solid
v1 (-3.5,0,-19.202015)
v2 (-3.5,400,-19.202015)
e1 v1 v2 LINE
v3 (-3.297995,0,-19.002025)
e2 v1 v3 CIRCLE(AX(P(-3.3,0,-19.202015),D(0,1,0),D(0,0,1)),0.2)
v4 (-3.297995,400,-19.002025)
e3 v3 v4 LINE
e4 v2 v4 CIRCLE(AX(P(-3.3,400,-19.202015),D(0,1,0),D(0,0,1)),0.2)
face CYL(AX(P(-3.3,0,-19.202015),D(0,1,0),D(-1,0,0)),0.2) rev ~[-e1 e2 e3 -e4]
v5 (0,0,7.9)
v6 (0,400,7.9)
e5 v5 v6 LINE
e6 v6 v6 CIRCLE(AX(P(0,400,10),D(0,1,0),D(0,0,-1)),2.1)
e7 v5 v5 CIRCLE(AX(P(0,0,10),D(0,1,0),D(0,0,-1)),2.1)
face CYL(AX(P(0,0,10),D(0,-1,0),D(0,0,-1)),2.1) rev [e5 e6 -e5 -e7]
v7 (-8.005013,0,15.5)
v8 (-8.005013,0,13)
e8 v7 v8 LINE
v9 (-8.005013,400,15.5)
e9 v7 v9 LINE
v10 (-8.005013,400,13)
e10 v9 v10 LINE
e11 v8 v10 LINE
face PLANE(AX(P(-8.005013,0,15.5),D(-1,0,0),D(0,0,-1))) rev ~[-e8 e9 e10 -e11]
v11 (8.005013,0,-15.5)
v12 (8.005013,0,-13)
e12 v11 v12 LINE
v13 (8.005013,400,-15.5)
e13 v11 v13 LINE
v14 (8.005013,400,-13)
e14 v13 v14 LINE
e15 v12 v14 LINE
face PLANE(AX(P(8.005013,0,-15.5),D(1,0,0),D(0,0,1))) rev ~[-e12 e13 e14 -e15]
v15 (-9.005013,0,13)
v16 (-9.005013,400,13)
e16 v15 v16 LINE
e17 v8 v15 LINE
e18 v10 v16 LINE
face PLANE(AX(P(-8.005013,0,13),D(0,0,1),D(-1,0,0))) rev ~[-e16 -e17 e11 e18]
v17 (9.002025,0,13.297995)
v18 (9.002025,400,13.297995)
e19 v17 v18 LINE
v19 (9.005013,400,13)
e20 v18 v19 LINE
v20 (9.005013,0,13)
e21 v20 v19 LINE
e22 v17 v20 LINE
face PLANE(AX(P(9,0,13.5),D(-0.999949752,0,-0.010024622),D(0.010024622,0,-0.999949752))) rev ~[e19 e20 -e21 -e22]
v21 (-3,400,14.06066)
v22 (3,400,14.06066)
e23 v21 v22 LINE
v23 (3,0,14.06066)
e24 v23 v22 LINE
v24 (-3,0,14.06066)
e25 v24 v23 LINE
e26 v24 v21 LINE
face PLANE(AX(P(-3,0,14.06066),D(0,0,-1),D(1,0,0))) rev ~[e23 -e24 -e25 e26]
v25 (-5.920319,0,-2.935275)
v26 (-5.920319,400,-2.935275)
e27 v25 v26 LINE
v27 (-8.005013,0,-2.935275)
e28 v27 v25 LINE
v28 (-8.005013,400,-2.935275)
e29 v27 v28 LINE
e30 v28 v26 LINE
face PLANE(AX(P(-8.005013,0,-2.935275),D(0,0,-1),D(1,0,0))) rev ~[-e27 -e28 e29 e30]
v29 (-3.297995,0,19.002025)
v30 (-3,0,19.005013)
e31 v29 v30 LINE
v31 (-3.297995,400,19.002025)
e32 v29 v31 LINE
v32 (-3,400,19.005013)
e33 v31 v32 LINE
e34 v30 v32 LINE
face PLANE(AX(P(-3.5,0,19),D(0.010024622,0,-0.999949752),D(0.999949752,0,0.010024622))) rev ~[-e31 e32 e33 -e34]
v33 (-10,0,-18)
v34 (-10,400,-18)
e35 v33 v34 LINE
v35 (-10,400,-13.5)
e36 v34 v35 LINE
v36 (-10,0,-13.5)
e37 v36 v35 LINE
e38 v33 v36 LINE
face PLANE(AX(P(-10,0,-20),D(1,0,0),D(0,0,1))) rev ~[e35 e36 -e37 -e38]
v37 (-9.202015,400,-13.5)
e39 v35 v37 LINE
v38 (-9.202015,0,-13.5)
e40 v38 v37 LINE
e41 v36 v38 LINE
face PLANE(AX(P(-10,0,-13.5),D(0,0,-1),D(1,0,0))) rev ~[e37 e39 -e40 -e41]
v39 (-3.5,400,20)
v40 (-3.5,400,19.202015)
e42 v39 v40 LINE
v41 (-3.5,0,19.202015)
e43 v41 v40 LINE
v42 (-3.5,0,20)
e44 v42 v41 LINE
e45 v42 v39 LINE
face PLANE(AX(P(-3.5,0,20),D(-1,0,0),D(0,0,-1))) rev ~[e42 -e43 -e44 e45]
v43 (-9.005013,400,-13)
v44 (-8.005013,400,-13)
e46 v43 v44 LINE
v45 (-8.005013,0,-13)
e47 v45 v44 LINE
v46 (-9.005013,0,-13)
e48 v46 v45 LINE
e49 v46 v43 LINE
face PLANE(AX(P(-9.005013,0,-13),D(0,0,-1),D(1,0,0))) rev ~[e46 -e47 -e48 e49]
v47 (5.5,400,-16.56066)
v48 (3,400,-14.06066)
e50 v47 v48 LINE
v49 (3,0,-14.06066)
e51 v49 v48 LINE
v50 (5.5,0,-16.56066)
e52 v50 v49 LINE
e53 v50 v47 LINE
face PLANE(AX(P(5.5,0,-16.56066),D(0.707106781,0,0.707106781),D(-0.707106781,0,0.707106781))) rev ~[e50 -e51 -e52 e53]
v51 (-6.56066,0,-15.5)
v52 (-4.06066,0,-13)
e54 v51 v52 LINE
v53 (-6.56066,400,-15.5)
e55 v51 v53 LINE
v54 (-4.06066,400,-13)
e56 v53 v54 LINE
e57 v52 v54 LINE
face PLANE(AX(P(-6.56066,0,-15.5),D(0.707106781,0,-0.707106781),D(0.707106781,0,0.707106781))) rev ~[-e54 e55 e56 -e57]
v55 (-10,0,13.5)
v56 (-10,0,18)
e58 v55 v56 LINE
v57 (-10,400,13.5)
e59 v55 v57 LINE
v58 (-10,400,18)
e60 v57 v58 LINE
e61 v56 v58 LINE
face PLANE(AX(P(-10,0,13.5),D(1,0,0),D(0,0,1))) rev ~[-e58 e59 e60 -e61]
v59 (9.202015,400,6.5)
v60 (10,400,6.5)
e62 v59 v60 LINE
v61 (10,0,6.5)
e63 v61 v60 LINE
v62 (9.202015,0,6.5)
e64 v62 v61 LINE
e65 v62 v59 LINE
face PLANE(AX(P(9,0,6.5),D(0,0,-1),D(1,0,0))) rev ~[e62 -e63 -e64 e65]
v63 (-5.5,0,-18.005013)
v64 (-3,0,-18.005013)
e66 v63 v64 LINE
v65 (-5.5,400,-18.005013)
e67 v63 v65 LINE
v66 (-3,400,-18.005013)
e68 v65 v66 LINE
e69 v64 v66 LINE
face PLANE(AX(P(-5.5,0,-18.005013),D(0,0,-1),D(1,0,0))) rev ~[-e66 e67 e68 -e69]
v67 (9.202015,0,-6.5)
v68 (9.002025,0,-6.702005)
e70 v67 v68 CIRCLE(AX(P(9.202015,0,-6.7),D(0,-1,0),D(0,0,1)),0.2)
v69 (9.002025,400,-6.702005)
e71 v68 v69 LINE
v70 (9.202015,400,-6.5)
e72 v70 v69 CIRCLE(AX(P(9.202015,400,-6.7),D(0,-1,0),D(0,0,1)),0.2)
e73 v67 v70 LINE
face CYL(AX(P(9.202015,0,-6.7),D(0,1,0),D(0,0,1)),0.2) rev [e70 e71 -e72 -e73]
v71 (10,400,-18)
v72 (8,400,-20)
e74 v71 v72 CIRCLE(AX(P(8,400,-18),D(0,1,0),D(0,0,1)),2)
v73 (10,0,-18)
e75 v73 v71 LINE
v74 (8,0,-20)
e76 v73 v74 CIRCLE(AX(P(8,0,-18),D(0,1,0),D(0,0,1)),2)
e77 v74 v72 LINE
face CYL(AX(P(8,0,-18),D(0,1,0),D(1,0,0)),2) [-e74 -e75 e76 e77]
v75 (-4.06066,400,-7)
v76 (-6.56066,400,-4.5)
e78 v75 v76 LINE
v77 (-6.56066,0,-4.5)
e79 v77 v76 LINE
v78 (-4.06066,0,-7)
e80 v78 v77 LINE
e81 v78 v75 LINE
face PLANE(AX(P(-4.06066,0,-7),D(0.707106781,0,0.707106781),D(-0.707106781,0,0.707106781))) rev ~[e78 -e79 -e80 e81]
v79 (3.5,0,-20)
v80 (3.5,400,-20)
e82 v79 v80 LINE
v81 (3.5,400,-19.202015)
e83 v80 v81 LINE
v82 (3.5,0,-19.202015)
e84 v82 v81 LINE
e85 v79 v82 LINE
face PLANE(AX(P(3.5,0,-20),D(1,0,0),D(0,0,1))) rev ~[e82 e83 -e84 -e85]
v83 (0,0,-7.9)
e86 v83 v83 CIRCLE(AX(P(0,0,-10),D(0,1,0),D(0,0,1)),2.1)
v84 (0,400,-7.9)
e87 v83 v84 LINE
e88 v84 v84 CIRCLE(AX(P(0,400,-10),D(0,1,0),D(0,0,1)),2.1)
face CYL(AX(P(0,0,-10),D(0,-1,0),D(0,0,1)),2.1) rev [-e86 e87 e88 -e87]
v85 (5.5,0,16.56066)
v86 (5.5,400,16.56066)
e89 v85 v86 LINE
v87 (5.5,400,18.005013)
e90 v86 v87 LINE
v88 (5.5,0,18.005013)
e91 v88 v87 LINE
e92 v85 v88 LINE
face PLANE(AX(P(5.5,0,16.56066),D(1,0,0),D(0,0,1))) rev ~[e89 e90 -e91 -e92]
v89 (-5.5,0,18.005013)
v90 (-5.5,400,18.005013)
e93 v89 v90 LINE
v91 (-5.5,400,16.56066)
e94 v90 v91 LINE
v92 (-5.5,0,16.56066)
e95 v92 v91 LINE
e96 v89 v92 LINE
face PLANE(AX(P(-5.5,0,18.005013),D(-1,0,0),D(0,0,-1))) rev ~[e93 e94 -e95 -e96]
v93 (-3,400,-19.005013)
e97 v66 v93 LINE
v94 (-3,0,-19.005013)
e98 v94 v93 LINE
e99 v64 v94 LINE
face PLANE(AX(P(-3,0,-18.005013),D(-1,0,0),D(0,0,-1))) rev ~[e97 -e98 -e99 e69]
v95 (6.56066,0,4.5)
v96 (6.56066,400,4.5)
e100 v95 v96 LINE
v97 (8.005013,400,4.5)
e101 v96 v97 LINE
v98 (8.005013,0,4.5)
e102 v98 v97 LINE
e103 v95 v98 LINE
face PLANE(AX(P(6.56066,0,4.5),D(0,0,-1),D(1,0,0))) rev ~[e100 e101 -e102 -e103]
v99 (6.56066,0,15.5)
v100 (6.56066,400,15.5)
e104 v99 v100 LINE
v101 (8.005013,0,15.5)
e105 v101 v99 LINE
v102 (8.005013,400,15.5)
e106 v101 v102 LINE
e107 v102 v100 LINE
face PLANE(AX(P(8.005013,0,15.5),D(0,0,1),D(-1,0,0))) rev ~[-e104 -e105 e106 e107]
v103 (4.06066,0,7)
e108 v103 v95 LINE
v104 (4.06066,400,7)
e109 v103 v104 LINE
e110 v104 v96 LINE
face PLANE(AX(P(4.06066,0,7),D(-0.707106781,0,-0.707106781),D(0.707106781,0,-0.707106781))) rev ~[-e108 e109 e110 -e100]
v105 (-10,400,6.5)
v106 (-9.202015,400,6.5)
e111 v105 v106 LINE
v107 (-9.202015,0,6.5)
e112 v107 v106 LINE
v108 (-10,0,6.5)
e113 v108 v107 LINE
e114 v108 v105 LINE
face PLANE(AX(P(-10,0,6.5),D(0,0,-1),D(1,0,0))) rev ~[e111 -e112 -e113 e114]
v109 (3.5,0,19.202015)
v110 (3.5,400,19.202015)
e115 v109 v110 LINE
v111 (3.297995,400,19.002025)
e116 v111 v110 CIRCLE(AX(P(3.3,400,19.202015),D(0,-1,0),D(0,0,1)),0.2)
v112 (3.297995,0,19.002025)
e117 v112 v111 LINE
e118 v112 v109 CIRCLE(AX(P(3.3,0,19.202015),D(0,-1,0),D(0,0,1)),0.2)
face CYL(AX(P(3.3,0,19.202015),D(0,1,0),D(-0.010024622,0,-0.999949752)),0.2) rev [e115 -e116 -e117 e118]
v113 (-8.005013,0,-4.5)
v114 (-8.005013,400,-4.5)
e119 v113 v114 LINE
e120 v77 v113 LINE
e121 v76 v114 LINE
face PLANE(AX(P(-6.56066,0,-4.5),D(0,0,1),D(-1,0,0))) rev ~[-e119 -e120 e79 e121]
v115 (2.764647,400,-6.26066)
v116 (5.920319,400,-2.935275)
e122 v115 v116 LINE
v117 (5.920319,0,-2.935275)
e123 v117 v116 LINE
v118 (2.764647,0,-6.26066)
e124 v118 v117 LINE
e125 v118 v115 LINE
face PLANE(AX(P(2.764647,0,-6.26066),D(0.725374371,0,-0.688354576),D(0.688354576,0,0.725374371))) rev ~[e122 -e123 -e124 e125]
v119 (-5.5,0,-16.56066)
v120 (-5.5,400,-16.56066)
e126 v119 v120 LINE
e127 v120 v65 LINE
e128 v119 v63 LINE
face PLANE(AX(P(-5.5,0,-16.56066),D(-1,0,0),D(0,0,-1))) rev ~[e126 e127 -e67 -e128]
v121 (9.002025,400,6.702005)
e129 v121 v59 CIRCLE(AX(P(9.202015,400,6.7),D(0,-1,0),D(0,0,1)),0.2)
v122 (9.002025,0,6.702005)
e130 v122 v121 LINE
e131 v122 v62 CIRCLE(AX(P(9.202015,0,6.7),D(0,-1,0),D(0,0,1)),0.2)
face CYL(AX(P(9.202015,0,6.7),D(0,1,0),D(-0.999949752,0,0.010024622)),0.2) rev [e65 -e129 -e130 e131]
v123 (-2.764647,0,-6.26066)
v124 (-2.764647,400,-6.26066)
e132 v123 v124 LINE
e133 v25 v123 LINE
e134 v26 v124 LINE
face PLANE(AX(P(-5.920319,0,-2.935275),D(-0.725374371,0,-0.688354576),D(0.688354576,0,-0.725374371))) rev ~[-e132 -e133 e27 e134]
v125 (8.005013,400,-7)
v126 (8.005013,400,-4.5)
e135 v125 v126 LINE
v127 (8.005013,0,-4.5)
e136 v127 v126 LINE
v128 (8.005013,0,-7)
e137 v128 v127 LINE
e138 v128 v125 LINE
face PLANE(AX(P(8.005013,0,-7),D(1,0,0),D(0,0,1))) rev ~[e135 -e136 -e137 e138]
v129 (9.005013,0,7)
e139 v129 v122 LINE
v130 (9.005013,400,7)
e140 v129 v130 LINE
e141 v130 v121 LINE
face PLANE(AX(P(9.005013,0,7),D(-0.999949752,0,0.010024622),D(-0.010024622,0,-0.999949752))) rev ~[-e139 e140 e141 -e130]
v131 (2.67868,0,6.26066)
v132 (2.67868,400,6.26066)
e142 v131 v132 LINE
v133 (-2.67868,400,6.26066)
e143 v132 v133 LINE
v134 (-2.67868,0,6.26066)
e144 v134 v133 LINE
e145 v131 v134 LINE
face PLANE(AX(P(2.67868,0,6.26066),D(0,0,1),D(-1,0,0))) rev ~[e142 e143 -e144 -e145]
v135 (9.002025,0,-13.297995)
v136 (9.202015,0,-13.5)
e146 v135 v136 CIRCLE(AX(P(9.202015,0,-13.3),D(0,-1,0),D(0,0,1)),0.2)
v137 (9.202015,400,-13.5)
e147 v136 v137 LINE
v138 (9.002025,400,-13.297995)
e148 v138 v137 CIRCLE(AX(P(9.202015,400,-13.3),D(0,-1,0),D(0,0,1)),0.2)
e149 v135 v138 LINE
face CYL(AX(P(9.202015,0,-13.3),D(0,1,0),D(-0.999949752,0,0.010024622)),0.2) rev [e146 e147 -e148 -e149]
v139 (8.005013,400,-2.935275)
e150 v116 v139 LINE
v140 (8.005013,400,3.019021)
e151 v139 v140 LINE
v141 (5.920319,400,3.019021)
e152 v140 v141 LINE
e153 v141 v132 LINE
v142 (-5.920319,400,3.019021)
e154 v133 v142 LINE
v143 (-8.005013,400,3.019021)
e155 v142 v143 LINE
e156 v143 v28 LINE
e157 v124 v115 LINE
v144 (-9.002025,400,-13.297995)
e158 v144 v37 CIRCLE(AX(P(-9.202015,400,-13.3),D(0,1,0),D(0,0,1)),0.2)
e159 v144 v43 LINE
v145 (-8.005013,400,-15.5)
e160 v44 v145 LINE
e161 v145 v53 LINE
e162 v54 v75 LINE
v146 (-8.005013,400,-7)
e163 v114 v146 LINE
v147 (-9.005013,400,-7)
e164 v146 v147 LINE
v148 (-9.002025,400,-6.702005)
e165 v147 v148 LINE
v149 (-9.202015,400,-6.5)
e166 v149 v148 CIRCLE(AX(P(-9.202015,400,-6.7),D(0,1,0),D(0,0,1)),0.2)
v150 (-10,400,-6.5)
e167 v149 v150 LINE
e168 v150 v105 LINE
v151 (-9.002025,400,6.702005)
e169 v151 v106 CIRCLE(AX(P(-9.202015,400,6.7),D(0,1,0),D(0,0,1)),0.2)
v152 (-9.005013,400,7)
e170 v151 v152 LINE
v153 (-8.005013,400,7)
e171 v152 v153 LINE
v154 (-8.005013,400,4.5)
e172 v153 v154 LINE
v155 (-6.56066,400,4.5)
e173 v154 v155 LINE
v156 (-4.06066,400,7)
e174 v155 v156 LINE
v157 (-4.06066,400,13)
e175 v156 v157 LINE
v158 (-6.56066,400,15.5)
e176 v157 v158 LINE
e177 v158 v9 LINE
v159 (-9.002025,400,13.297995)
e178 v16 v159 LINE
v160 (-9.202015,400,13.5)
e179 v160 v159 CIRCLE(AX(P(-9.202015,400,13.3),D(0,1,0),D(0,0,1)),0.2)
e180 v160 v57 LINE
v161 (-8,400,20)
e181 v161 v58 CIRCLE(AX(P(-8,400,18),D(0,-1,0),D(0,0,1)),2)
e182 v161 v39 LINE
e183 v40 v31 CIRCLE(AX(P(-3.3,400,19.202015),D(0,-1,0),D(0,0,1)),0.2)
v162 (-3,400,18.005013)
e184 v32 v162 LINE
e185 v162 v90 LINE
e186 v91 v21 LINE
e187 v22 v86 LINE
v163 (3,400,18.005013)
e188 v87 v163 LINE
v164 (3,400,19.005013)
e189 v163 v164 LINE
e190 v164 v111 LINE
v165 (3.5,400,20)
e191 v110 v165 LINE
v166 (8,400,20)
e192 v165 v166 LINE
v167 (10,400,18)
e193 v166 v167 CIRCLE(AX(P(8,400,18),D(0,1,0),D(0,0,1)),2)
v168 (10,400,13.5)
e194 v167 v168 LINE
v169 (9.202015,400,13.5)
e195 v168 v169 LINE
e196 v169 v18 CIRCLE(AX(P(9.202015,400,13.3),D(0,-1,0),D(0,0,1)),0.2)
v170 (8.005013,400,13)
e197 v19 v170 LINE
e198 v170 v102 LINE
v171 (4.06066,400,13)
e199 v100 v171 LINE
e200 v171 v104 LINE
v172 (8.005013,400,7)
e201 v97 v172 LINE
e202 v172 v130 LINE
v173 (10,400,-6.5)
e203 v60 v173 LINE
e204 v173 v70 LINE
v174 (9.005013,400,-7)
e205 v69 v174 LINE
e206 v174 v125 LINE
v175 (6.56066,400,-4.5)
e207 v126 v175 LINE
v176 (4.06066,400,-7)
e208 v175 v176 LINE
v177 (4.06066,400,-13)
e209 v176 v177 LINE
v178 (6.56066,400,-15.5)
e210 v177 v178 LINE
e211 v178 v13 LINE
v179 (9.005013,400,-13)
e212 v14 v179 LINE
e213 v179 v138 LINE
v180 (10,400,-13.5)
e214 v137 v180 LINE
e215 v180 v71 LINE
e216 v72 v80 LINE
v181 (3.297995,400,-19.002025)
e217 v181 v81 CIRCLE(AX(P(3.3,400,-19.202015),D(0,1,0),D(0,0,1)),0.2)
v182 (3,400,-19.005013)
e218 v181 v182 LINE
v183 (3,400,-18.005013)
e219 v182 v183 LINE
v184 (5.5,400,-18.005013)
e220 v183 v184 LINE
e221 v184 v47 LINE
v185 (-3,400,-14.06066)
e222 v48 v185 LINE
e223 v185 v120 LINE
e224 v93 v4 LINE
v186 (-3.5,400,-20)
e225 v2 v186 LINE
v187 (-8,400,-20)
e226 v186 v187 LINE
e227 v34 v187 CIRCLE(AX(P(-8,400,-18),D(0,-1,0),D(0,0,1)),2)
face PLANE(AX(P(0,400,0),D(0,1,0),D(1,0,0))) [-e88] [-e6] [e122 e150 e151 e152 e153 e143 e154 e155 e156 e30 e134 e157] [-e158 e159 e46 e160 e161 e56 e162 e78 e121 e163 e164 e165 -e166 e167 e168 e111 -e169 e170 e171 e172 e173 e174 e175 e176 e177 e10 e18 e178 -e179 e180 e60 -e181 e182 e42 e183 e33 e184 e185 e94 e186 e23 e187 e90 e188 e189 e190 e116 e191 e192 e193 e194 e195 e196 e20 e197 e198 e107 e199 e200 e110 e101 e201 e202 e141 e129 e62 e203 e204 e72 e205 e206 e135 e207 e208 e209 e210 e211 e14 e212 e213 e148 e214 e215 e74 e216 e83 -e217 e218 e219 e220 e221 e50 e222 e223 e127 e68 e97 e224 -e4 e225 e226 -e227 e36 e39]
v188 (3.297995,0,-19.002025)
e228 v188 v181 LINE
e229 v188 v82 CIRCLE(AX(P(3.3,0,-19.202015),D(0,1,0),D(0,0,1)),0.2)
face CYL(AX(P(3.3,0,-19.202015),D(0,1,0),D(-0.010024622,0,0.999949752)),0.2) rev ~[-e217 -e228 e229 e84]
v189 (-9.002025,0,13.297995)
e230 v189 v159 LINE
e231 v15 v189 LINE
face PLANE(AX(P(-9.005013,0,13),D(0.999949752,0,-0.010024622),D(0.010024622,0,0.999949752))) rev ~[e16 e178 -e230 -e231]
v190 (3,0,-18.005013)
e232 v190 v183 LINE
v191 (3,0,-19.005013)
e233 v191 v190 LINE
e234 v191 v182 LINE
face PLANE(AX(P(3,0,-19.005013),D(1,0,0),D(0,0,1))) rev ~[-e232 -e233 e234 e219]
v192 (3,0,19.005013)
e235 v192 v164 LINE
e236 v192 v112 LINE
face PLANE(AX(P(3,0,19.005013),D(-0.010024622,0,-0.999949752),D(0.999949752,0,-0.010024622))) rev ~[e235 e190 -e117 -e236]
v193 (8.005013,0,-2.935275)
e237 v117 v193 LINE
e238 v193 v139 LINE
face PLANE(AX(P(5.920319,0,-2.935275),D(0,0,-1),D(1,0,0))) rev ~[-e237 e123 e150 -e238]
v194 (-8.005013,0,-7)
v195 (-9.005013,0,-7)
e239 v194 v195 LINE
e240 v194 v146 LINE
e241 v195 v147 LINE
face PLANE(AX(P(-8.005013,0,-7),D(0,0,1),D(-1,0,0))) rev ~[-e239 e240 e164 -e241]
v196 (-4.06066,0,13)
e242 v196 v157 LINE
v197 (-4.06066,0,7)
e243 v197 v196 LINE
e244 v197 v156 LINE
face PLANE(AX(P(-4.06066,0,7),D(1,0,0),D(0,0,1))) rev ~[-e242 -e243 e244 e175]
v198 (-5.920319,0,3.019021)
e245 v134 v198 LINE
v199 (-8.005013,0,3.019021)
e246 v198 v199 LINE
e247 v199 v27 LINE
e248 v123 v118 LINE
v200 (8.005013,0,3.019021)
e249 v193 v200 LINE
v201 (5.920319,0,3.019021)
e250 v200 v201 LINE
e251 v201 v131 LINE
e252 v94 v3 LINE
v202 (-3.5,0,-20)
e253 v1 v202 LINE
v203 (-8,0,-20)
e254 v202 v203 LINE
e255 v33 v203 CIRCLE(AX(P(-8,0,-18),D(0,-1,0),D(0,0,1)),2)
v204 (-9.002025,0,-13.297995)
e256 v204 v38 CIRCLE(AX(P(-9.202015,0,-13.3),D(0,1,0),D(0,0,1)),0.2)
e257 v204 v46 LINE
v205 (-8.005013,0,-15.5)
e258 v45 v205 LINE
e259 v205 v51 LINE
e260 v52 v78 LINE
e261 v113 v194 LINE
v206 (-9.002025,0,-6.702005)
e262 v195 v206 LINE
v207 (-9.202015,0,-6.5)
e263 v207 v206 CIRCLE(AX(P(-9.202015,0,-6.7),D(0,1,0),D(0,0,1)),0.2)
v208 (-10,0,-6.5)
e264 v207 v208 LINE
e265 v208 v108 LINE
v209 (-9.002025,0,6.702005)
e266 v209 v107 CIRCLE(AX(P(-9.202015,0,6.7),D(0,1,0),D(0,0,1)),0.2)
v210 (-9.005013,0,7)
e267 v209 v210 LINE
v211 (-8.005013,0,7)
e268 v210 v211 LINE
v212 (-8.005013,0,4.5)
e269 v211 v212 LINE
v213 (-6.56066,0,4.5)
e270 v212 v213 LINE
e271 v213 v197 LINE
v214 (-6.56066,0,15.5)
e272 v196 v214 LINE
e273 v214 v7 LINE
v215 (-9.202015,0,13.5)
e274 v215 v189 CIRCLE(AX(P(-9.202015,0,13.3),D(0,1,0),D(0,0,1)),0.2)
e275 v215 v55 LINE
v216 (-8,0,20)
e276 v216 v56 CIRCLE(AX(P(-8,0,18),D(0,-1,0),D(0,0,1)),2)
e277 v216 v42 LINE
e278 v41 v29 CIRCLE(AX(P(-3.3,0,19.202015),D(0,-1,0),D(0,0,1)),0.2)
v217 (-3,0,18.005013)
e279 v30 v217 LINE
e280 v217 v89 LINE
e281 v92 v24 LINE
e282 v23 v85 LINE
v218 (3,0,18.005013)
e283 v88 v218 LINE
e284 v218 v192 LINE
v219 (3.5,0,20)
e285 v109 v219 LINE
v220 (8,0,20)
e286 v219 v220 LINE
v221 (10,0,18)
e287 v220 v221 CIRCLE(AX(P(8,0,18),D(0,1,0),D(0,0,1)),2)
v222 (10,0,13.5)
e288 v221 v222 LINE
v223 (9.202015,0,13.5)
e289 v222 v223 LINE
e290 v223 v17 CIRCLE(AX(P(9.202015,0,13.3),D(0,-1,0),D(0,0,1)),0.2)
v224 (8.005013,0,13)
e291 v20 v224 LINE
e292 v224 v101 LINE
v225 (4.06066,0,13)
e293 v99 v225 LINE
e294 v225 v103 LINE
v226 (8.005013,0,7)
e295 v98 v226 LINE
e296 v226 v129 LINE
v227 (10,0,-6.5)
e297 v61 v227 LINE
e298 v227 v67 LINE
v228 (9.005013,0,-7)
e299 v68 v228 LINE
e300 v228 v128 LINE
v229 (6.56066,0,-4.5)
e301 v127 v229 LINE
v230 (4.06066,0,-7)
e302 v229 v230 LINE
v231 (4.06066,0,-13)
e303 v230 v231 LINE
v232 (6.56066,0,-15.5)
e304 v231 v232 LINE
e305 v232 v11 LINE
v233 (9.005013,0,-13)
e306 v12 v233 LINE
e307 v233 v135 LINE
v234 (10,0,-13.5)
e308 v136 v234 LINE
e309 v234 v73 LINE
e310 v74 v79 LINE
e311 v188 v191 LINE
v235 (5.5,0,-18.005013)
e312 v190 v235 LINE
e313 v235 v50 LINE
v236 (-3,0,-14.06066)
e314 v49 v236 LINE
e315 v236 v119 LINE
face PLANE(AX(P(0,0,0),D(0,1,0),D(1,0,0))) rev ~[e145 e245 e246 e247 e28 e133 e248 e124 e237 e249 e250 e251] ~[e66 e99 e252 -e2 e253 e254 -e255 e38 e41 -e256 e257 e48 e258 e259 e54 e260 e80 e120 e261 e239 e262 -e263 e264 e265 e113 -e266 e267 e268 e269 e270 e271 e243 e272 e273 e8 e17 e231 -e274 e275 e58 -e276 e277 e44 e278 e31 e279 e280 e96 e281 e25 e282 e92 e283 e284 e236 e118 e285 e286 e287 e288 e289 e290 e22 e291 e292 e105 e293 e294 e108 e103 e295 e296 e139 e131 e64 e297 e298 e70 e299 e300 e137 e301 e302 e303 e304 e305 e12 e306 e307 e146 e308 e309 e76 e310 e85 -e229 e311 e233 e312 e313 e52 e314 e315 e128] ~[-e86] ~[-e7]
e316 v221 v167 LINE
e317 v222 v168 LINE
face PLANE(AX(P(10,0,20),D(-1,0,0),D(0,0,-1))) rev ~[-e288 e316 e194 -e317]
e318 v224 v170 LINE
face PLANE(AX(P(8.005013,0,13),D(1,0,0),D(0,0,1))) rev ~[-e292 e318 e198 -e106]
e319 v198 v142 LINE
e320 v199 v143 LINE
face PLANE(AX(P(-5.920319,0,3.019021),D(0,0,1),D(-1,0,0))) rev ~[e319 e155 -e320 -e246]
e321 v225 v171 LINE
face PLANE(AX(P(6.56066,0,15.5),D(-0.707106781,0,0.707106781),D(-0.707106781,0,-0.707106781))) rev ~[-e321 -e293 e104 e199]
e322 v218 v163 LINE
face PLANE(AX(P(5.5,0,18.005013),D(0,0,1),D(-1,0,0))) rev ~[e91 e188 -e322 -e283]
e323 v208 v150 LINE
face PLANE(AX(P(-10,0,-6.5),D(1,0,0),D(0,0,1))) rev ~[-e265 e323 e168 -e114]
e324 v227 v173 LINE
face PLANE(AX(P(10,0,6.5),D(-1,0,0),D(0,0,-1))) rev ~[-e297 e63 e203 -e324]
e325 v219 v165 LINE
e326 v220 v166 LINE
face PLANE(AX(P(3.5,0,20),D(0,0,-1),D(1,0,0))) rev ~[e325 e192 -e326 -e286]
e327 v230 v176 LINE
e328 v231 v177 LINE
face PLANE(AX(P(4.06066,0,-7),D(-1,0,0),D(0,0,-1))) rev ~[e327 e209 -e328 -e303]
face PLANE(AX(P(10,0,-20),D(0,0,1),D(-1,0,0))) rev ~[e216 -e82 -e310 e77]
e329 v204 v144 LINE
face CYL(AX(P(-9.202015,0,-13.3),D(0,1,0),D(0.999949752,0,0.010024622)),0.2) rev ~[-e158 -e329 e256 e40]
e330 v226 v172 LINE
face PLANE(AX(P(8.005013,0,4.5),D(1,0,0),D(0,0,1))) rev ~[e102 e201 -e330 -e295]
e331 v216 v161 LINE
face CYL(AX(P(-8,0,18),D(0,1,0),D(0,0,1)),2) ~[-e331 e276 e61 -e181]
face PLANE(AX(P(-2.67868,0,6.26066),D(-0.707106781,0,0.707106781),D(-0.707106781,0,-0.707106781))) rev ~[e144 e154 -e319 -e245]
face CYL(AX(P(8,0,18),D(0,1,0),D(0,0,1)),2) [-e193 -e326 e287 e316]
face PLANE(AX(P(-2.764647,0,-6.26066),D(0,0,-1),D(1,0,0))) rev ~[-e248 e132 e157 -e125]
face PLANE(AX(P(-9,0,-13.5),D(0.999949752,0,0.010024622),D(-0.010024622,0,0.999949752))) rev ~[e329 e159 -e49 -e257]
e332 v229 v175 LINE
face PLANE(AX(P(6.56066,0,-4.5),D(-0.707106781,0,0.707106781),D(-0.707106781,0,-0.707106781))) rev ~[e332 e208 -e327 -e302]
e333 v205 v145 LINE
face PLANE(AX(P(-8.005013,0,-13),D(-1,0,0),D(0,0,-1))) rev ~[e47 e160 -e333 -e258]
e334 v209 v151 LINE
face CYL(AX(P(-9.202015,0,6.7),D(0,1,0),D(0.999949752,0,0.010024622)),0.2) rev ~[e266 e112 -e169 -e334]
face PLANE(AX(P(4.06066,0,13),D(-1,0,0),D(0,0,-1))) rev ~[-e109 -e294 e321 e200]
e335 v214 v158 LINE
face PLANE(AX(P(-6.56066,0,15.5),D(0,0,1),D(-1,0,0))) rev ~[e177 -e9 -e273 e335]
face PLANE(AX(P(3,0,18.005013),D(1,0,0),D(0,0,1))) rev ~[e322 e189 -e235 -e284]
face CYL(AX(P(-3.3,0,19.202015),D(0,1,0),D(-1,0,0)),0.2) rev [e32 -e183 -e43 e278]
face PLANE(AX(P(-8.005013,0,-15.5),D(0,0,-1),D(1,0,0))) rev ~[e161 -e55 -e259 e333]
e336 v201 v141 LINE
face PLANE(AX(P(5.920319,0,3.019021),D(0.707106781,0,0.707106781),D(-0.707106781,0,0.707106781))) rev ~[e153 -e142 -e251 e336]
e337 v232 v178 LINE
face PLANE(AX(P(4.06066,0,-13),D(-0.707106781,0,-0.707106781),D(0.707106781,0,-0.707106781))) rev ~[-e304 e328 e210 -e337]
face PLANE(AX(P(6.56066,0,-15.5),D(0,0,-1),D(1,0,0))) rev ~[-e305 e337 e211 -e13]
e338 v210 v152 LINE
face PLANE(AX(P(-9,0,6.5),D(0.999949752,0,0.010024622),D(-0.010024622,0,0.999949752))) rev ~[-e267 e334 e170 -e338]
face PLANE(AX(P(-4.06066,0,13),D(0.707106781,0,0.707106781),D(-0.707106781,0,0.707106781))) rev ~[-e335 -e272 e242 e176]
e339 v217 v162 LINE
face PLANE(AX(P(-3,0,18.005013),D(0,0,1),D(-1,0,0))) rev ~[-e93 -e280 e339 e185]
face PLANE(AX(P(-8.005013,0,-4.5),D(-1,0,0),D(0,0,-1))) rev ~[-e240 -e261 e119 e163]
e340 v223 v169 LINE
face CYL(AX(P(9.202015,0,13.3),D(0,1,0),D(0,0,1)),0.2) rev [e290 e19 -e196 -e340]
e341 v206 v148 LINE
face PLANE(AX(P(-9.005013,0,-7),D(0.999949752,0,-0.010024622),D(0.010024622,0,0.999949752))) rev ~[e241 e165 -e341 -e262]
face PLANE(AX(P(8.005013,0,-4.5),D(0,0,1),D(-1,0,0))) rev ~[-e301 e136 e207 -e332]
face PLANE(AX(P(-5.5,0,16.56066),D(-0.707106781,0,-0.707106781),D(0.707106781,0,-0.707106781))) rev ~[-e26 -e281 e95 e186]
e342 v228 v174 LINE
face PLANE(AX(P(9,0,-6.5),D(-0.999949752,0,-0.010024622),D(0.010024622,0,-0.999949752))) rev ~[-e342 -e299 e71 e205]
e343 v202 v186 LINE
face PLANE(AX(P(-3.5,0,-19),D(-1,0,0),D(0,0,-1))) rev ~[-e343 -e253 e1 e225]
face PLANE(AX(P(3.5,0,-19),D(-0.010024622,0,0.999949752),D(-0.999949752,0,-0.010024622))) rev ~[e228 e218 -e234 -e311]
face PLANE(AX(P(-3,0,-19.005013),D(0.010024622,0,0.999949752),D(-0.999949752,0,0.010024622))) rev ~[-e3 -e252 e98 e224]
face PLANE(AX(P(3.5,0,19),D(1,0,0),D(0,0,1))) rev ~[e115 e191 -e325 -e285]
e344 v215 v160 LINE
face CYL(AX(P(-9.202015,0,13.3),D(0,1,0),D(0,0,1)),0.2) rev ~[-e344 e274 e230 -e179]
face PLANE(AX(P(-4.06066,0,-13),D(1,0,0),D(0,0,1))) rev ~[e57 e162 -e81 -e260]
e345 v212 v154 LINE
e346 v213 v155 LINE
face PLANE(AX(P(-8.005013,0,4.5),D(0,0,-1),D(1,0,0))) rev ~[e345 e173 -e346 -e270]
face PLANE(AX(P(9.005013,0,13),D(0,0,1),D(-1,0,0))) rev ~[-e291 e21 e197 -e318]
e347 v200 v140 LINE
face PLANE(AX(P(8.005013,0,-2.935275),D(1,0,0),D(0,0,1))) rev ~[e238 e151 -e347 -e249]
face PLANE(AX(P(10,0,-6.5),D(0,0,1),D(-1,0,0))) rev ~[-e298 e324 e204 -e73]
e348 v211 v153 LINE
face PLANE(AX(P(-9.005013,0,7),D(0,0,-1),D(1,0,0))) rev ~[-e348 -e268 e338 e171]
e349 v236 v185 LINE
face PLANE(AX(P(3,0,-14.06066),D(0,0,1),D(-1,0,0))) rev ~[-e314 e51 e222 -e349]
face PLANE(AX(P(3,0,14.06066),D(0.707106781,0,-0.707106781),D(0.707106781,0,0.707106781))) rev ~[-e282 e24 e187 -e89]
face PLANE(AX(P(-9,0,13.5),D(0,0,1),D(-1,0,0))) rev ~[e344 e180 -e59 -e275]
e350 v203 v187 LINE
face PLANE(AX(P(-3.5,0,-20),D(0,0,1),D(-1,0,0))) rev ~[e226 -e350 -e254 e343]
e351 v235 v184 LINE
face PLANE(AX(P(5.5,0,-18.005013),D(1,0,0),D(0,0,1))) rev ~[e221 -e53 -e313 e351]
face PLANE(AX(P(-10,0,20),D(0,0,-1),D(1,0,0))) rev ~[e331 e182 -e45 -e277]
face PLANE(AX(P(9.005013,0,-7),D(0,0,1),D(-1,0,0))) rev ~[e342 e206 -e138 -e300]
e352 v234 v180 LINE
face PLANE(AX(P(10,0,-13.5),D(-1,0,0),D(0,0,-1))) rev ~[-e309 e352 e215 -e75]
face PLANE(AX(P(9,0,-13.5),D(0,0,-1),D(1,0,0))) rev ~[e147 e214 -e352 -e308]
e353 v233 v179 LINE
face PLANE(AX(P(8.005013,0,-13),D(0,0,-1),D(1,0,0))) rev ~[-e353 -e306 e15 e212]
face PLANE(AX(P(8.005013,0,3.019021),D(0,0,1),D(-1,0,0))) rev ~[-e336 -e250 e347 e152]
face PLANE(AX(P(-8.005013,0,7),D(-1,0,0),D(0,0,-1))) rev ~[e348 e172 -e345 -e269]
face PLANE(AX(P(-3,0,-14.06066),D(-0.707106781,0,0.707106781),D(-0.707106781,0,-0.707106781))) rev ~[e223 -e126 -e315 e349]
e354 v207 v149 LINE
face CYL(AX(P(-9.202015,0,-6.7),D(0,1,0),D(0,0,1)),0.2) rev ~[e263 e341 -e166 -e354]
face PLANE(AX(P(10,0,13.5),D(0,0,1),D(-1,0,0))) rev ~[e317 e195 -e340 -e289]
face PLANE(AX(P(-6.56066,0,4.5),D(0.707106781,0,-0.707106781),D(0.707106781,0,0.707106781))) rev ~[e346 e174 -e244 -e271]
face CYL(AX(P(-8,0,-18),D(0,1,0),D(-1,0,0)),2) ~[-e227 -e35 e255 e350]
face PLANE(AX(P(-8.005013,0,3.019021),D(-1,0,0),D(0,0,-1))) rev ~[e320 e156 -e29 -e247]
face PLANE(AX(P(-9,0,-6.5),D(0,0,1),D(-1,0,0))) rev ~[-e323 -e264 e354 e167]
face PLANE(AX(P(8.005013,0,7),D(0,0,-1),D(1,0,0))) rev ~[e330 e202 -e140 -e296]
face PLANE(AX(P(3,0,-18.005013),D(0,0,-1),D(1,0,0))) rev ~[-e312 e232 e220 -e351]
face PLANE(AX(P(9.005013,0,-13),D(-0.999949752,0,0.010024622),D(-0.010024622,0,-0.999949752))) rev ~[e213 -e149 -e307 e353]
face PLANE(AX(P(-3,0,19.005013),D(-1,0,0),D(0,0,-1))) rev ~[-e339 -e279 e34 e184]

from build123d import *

# Parameters (mm, degrees)
SKETCH_2_R      = 2.1
EXTRUDE_1_DEPTH = 400
FILLET_1_R      = 2
FILLET_2_R      = 0.2


with BuildPart() as part:
    # Эскиз2 → Бобышка-Вытянуть1 (new body)
    with BuildSketch(Plane(origin=(0, 0, 0), x_dir=(1, 0, 0), z_dir=(0, 1, 0))):
        Polygon((-10, -20), (-3.5, -20), (-3.5, -19), (-3, -19.005012563), (-3, -18.005012563), (-5.5, -18.005012563), (-5.5, -16.560660172), (-3, -14.060660172), (3, -14.060660172), (5.5, -16.560660172), (5.5, -18.005012563), (3, -18.005012563), (3, -19.005012563), (3.5, -19), (3.5, -20), (10, -20), (10, -13.5), (9, -13.5), (9.005012563, -13), (8.005012563, -13), (8.005012563, -15.5), (6.560660172, -15.5), (4.060660172, -13), (4.060660172, -7), (6.560660172, -4.5), (8.005012563, -4.5), (8.005012563, -7), (9.005012563, -7), (9, -6.5), (10, -6.5), (10, 6.5), (9, 6.5), (9.005012563, 7), (8.005012563, 7), (8.005012563, 4.5), (6.560660172, 4.5), (4.060660172, 7), (4.060660172, 13), (6.560660172, 15.5), (8.005012563, 15.5), (8.005012563, 13), (9.005012563, 13), (9, 13.5), (10, 13.5), (10, 20), (3.5, 20), (3.5, 19), (3, 19.005012563), (3, 18.005012563), (5.5, 18.005012563), (5.5, 16.560660172), (3, 14.060660172), (-3, 14.060660172), (-5.5, 16.560660172), (-5.5, 18.005012563), (-3, 18.005012563), (-3, 19.005012563), (-3.5, 19), (-3.5, 20), (-10, 20), (-10, 13.5), (-9, 13.5), (-9.005012563, 13), (-8.005012563, 13), (-8.005012563, 15.5), (-6.560660172, 15.5), (-4.060660172, 13), (-4.060660172, 7), (-6.560660172, 4.5), (-8.005012563, 4.5), (-8.005012563, 7), (-9.005012563, 7), (-9, 6.5), (-10, 6.5), (-10, -6.5), (-9, -6.5), (-9.005012563, -7), (-8.005012563, -7), (-8.005012563, -4.5), (-6.560660172, -4.5), (-4.060660172, -7), (-4.060660172, -13), (-6.560660172, -15.5), (-8.005012563, -15.5), (-8.005012563, -13), (-9.005012563, -13), (-9, -13.5), (-10, -13.5), align=None)
        with Locations(Location((0, 10, 0), (0, 0, 270))):
            Circle(SKETCH_2_R, mode=Mode.SUBTRACT)
        with Locations(Location((0, -10, 0), (0, 0, 90))):
            Circle(SKETCH_2_R, mode=Mode.SUBTRACT)
        Polygon((-2.764646715, 6.260660172), (2.764646715, 6.260660172), (5.920319141, 2.935275287), (8.005012563, 2.935275287), (8.005012563, -3.019020687), (5.920319141, -3.019020687), (2.678679656, -6.260660172), (-2.678679656, -6.260660172), (-5.920319141, -3.019020687), (-8.005012563, -3.019020687), (-8.005012563, 2.935275287), (-5.920319141, 2.935275287), align=None, mode=Mode.SUBTRACT)
    extrude(amount=EXTRUDE_1_DEPTH)

    # Скругление1
    fillet_1_edges = [part.edges().sort_by_distance(p)[0] for p in [
        (-10, 200, -20),
        (10, 200, -20),
        (10, 200, 20),
        (-10, 200, 20),
    ]]
    fillet(fillet_1_edges, radius=FILLET_1_R)

    # Скругление2
    fillet_2_edges = [part.edges().sort_by_distance(p)[0] for p in [
        (-9, 200, 13.5),
        (-9, 200, 6.5),
        (-9, 200, -6.5),
        (-9, 200, -13.5),
        (-3.5, 200, -19),
        (3.5, 200, -19),
        (9, 200, -13.5),
        (9, 200, -6.5),
        (9, 200, 6.5),
        (9, 200, 13.5),
        (3.5, 200, 19),
        (-3.5, 200, 19),
    ]]
    fillet(fillet_2_edges, radius=FILLET_2_R)


solid = part.part
